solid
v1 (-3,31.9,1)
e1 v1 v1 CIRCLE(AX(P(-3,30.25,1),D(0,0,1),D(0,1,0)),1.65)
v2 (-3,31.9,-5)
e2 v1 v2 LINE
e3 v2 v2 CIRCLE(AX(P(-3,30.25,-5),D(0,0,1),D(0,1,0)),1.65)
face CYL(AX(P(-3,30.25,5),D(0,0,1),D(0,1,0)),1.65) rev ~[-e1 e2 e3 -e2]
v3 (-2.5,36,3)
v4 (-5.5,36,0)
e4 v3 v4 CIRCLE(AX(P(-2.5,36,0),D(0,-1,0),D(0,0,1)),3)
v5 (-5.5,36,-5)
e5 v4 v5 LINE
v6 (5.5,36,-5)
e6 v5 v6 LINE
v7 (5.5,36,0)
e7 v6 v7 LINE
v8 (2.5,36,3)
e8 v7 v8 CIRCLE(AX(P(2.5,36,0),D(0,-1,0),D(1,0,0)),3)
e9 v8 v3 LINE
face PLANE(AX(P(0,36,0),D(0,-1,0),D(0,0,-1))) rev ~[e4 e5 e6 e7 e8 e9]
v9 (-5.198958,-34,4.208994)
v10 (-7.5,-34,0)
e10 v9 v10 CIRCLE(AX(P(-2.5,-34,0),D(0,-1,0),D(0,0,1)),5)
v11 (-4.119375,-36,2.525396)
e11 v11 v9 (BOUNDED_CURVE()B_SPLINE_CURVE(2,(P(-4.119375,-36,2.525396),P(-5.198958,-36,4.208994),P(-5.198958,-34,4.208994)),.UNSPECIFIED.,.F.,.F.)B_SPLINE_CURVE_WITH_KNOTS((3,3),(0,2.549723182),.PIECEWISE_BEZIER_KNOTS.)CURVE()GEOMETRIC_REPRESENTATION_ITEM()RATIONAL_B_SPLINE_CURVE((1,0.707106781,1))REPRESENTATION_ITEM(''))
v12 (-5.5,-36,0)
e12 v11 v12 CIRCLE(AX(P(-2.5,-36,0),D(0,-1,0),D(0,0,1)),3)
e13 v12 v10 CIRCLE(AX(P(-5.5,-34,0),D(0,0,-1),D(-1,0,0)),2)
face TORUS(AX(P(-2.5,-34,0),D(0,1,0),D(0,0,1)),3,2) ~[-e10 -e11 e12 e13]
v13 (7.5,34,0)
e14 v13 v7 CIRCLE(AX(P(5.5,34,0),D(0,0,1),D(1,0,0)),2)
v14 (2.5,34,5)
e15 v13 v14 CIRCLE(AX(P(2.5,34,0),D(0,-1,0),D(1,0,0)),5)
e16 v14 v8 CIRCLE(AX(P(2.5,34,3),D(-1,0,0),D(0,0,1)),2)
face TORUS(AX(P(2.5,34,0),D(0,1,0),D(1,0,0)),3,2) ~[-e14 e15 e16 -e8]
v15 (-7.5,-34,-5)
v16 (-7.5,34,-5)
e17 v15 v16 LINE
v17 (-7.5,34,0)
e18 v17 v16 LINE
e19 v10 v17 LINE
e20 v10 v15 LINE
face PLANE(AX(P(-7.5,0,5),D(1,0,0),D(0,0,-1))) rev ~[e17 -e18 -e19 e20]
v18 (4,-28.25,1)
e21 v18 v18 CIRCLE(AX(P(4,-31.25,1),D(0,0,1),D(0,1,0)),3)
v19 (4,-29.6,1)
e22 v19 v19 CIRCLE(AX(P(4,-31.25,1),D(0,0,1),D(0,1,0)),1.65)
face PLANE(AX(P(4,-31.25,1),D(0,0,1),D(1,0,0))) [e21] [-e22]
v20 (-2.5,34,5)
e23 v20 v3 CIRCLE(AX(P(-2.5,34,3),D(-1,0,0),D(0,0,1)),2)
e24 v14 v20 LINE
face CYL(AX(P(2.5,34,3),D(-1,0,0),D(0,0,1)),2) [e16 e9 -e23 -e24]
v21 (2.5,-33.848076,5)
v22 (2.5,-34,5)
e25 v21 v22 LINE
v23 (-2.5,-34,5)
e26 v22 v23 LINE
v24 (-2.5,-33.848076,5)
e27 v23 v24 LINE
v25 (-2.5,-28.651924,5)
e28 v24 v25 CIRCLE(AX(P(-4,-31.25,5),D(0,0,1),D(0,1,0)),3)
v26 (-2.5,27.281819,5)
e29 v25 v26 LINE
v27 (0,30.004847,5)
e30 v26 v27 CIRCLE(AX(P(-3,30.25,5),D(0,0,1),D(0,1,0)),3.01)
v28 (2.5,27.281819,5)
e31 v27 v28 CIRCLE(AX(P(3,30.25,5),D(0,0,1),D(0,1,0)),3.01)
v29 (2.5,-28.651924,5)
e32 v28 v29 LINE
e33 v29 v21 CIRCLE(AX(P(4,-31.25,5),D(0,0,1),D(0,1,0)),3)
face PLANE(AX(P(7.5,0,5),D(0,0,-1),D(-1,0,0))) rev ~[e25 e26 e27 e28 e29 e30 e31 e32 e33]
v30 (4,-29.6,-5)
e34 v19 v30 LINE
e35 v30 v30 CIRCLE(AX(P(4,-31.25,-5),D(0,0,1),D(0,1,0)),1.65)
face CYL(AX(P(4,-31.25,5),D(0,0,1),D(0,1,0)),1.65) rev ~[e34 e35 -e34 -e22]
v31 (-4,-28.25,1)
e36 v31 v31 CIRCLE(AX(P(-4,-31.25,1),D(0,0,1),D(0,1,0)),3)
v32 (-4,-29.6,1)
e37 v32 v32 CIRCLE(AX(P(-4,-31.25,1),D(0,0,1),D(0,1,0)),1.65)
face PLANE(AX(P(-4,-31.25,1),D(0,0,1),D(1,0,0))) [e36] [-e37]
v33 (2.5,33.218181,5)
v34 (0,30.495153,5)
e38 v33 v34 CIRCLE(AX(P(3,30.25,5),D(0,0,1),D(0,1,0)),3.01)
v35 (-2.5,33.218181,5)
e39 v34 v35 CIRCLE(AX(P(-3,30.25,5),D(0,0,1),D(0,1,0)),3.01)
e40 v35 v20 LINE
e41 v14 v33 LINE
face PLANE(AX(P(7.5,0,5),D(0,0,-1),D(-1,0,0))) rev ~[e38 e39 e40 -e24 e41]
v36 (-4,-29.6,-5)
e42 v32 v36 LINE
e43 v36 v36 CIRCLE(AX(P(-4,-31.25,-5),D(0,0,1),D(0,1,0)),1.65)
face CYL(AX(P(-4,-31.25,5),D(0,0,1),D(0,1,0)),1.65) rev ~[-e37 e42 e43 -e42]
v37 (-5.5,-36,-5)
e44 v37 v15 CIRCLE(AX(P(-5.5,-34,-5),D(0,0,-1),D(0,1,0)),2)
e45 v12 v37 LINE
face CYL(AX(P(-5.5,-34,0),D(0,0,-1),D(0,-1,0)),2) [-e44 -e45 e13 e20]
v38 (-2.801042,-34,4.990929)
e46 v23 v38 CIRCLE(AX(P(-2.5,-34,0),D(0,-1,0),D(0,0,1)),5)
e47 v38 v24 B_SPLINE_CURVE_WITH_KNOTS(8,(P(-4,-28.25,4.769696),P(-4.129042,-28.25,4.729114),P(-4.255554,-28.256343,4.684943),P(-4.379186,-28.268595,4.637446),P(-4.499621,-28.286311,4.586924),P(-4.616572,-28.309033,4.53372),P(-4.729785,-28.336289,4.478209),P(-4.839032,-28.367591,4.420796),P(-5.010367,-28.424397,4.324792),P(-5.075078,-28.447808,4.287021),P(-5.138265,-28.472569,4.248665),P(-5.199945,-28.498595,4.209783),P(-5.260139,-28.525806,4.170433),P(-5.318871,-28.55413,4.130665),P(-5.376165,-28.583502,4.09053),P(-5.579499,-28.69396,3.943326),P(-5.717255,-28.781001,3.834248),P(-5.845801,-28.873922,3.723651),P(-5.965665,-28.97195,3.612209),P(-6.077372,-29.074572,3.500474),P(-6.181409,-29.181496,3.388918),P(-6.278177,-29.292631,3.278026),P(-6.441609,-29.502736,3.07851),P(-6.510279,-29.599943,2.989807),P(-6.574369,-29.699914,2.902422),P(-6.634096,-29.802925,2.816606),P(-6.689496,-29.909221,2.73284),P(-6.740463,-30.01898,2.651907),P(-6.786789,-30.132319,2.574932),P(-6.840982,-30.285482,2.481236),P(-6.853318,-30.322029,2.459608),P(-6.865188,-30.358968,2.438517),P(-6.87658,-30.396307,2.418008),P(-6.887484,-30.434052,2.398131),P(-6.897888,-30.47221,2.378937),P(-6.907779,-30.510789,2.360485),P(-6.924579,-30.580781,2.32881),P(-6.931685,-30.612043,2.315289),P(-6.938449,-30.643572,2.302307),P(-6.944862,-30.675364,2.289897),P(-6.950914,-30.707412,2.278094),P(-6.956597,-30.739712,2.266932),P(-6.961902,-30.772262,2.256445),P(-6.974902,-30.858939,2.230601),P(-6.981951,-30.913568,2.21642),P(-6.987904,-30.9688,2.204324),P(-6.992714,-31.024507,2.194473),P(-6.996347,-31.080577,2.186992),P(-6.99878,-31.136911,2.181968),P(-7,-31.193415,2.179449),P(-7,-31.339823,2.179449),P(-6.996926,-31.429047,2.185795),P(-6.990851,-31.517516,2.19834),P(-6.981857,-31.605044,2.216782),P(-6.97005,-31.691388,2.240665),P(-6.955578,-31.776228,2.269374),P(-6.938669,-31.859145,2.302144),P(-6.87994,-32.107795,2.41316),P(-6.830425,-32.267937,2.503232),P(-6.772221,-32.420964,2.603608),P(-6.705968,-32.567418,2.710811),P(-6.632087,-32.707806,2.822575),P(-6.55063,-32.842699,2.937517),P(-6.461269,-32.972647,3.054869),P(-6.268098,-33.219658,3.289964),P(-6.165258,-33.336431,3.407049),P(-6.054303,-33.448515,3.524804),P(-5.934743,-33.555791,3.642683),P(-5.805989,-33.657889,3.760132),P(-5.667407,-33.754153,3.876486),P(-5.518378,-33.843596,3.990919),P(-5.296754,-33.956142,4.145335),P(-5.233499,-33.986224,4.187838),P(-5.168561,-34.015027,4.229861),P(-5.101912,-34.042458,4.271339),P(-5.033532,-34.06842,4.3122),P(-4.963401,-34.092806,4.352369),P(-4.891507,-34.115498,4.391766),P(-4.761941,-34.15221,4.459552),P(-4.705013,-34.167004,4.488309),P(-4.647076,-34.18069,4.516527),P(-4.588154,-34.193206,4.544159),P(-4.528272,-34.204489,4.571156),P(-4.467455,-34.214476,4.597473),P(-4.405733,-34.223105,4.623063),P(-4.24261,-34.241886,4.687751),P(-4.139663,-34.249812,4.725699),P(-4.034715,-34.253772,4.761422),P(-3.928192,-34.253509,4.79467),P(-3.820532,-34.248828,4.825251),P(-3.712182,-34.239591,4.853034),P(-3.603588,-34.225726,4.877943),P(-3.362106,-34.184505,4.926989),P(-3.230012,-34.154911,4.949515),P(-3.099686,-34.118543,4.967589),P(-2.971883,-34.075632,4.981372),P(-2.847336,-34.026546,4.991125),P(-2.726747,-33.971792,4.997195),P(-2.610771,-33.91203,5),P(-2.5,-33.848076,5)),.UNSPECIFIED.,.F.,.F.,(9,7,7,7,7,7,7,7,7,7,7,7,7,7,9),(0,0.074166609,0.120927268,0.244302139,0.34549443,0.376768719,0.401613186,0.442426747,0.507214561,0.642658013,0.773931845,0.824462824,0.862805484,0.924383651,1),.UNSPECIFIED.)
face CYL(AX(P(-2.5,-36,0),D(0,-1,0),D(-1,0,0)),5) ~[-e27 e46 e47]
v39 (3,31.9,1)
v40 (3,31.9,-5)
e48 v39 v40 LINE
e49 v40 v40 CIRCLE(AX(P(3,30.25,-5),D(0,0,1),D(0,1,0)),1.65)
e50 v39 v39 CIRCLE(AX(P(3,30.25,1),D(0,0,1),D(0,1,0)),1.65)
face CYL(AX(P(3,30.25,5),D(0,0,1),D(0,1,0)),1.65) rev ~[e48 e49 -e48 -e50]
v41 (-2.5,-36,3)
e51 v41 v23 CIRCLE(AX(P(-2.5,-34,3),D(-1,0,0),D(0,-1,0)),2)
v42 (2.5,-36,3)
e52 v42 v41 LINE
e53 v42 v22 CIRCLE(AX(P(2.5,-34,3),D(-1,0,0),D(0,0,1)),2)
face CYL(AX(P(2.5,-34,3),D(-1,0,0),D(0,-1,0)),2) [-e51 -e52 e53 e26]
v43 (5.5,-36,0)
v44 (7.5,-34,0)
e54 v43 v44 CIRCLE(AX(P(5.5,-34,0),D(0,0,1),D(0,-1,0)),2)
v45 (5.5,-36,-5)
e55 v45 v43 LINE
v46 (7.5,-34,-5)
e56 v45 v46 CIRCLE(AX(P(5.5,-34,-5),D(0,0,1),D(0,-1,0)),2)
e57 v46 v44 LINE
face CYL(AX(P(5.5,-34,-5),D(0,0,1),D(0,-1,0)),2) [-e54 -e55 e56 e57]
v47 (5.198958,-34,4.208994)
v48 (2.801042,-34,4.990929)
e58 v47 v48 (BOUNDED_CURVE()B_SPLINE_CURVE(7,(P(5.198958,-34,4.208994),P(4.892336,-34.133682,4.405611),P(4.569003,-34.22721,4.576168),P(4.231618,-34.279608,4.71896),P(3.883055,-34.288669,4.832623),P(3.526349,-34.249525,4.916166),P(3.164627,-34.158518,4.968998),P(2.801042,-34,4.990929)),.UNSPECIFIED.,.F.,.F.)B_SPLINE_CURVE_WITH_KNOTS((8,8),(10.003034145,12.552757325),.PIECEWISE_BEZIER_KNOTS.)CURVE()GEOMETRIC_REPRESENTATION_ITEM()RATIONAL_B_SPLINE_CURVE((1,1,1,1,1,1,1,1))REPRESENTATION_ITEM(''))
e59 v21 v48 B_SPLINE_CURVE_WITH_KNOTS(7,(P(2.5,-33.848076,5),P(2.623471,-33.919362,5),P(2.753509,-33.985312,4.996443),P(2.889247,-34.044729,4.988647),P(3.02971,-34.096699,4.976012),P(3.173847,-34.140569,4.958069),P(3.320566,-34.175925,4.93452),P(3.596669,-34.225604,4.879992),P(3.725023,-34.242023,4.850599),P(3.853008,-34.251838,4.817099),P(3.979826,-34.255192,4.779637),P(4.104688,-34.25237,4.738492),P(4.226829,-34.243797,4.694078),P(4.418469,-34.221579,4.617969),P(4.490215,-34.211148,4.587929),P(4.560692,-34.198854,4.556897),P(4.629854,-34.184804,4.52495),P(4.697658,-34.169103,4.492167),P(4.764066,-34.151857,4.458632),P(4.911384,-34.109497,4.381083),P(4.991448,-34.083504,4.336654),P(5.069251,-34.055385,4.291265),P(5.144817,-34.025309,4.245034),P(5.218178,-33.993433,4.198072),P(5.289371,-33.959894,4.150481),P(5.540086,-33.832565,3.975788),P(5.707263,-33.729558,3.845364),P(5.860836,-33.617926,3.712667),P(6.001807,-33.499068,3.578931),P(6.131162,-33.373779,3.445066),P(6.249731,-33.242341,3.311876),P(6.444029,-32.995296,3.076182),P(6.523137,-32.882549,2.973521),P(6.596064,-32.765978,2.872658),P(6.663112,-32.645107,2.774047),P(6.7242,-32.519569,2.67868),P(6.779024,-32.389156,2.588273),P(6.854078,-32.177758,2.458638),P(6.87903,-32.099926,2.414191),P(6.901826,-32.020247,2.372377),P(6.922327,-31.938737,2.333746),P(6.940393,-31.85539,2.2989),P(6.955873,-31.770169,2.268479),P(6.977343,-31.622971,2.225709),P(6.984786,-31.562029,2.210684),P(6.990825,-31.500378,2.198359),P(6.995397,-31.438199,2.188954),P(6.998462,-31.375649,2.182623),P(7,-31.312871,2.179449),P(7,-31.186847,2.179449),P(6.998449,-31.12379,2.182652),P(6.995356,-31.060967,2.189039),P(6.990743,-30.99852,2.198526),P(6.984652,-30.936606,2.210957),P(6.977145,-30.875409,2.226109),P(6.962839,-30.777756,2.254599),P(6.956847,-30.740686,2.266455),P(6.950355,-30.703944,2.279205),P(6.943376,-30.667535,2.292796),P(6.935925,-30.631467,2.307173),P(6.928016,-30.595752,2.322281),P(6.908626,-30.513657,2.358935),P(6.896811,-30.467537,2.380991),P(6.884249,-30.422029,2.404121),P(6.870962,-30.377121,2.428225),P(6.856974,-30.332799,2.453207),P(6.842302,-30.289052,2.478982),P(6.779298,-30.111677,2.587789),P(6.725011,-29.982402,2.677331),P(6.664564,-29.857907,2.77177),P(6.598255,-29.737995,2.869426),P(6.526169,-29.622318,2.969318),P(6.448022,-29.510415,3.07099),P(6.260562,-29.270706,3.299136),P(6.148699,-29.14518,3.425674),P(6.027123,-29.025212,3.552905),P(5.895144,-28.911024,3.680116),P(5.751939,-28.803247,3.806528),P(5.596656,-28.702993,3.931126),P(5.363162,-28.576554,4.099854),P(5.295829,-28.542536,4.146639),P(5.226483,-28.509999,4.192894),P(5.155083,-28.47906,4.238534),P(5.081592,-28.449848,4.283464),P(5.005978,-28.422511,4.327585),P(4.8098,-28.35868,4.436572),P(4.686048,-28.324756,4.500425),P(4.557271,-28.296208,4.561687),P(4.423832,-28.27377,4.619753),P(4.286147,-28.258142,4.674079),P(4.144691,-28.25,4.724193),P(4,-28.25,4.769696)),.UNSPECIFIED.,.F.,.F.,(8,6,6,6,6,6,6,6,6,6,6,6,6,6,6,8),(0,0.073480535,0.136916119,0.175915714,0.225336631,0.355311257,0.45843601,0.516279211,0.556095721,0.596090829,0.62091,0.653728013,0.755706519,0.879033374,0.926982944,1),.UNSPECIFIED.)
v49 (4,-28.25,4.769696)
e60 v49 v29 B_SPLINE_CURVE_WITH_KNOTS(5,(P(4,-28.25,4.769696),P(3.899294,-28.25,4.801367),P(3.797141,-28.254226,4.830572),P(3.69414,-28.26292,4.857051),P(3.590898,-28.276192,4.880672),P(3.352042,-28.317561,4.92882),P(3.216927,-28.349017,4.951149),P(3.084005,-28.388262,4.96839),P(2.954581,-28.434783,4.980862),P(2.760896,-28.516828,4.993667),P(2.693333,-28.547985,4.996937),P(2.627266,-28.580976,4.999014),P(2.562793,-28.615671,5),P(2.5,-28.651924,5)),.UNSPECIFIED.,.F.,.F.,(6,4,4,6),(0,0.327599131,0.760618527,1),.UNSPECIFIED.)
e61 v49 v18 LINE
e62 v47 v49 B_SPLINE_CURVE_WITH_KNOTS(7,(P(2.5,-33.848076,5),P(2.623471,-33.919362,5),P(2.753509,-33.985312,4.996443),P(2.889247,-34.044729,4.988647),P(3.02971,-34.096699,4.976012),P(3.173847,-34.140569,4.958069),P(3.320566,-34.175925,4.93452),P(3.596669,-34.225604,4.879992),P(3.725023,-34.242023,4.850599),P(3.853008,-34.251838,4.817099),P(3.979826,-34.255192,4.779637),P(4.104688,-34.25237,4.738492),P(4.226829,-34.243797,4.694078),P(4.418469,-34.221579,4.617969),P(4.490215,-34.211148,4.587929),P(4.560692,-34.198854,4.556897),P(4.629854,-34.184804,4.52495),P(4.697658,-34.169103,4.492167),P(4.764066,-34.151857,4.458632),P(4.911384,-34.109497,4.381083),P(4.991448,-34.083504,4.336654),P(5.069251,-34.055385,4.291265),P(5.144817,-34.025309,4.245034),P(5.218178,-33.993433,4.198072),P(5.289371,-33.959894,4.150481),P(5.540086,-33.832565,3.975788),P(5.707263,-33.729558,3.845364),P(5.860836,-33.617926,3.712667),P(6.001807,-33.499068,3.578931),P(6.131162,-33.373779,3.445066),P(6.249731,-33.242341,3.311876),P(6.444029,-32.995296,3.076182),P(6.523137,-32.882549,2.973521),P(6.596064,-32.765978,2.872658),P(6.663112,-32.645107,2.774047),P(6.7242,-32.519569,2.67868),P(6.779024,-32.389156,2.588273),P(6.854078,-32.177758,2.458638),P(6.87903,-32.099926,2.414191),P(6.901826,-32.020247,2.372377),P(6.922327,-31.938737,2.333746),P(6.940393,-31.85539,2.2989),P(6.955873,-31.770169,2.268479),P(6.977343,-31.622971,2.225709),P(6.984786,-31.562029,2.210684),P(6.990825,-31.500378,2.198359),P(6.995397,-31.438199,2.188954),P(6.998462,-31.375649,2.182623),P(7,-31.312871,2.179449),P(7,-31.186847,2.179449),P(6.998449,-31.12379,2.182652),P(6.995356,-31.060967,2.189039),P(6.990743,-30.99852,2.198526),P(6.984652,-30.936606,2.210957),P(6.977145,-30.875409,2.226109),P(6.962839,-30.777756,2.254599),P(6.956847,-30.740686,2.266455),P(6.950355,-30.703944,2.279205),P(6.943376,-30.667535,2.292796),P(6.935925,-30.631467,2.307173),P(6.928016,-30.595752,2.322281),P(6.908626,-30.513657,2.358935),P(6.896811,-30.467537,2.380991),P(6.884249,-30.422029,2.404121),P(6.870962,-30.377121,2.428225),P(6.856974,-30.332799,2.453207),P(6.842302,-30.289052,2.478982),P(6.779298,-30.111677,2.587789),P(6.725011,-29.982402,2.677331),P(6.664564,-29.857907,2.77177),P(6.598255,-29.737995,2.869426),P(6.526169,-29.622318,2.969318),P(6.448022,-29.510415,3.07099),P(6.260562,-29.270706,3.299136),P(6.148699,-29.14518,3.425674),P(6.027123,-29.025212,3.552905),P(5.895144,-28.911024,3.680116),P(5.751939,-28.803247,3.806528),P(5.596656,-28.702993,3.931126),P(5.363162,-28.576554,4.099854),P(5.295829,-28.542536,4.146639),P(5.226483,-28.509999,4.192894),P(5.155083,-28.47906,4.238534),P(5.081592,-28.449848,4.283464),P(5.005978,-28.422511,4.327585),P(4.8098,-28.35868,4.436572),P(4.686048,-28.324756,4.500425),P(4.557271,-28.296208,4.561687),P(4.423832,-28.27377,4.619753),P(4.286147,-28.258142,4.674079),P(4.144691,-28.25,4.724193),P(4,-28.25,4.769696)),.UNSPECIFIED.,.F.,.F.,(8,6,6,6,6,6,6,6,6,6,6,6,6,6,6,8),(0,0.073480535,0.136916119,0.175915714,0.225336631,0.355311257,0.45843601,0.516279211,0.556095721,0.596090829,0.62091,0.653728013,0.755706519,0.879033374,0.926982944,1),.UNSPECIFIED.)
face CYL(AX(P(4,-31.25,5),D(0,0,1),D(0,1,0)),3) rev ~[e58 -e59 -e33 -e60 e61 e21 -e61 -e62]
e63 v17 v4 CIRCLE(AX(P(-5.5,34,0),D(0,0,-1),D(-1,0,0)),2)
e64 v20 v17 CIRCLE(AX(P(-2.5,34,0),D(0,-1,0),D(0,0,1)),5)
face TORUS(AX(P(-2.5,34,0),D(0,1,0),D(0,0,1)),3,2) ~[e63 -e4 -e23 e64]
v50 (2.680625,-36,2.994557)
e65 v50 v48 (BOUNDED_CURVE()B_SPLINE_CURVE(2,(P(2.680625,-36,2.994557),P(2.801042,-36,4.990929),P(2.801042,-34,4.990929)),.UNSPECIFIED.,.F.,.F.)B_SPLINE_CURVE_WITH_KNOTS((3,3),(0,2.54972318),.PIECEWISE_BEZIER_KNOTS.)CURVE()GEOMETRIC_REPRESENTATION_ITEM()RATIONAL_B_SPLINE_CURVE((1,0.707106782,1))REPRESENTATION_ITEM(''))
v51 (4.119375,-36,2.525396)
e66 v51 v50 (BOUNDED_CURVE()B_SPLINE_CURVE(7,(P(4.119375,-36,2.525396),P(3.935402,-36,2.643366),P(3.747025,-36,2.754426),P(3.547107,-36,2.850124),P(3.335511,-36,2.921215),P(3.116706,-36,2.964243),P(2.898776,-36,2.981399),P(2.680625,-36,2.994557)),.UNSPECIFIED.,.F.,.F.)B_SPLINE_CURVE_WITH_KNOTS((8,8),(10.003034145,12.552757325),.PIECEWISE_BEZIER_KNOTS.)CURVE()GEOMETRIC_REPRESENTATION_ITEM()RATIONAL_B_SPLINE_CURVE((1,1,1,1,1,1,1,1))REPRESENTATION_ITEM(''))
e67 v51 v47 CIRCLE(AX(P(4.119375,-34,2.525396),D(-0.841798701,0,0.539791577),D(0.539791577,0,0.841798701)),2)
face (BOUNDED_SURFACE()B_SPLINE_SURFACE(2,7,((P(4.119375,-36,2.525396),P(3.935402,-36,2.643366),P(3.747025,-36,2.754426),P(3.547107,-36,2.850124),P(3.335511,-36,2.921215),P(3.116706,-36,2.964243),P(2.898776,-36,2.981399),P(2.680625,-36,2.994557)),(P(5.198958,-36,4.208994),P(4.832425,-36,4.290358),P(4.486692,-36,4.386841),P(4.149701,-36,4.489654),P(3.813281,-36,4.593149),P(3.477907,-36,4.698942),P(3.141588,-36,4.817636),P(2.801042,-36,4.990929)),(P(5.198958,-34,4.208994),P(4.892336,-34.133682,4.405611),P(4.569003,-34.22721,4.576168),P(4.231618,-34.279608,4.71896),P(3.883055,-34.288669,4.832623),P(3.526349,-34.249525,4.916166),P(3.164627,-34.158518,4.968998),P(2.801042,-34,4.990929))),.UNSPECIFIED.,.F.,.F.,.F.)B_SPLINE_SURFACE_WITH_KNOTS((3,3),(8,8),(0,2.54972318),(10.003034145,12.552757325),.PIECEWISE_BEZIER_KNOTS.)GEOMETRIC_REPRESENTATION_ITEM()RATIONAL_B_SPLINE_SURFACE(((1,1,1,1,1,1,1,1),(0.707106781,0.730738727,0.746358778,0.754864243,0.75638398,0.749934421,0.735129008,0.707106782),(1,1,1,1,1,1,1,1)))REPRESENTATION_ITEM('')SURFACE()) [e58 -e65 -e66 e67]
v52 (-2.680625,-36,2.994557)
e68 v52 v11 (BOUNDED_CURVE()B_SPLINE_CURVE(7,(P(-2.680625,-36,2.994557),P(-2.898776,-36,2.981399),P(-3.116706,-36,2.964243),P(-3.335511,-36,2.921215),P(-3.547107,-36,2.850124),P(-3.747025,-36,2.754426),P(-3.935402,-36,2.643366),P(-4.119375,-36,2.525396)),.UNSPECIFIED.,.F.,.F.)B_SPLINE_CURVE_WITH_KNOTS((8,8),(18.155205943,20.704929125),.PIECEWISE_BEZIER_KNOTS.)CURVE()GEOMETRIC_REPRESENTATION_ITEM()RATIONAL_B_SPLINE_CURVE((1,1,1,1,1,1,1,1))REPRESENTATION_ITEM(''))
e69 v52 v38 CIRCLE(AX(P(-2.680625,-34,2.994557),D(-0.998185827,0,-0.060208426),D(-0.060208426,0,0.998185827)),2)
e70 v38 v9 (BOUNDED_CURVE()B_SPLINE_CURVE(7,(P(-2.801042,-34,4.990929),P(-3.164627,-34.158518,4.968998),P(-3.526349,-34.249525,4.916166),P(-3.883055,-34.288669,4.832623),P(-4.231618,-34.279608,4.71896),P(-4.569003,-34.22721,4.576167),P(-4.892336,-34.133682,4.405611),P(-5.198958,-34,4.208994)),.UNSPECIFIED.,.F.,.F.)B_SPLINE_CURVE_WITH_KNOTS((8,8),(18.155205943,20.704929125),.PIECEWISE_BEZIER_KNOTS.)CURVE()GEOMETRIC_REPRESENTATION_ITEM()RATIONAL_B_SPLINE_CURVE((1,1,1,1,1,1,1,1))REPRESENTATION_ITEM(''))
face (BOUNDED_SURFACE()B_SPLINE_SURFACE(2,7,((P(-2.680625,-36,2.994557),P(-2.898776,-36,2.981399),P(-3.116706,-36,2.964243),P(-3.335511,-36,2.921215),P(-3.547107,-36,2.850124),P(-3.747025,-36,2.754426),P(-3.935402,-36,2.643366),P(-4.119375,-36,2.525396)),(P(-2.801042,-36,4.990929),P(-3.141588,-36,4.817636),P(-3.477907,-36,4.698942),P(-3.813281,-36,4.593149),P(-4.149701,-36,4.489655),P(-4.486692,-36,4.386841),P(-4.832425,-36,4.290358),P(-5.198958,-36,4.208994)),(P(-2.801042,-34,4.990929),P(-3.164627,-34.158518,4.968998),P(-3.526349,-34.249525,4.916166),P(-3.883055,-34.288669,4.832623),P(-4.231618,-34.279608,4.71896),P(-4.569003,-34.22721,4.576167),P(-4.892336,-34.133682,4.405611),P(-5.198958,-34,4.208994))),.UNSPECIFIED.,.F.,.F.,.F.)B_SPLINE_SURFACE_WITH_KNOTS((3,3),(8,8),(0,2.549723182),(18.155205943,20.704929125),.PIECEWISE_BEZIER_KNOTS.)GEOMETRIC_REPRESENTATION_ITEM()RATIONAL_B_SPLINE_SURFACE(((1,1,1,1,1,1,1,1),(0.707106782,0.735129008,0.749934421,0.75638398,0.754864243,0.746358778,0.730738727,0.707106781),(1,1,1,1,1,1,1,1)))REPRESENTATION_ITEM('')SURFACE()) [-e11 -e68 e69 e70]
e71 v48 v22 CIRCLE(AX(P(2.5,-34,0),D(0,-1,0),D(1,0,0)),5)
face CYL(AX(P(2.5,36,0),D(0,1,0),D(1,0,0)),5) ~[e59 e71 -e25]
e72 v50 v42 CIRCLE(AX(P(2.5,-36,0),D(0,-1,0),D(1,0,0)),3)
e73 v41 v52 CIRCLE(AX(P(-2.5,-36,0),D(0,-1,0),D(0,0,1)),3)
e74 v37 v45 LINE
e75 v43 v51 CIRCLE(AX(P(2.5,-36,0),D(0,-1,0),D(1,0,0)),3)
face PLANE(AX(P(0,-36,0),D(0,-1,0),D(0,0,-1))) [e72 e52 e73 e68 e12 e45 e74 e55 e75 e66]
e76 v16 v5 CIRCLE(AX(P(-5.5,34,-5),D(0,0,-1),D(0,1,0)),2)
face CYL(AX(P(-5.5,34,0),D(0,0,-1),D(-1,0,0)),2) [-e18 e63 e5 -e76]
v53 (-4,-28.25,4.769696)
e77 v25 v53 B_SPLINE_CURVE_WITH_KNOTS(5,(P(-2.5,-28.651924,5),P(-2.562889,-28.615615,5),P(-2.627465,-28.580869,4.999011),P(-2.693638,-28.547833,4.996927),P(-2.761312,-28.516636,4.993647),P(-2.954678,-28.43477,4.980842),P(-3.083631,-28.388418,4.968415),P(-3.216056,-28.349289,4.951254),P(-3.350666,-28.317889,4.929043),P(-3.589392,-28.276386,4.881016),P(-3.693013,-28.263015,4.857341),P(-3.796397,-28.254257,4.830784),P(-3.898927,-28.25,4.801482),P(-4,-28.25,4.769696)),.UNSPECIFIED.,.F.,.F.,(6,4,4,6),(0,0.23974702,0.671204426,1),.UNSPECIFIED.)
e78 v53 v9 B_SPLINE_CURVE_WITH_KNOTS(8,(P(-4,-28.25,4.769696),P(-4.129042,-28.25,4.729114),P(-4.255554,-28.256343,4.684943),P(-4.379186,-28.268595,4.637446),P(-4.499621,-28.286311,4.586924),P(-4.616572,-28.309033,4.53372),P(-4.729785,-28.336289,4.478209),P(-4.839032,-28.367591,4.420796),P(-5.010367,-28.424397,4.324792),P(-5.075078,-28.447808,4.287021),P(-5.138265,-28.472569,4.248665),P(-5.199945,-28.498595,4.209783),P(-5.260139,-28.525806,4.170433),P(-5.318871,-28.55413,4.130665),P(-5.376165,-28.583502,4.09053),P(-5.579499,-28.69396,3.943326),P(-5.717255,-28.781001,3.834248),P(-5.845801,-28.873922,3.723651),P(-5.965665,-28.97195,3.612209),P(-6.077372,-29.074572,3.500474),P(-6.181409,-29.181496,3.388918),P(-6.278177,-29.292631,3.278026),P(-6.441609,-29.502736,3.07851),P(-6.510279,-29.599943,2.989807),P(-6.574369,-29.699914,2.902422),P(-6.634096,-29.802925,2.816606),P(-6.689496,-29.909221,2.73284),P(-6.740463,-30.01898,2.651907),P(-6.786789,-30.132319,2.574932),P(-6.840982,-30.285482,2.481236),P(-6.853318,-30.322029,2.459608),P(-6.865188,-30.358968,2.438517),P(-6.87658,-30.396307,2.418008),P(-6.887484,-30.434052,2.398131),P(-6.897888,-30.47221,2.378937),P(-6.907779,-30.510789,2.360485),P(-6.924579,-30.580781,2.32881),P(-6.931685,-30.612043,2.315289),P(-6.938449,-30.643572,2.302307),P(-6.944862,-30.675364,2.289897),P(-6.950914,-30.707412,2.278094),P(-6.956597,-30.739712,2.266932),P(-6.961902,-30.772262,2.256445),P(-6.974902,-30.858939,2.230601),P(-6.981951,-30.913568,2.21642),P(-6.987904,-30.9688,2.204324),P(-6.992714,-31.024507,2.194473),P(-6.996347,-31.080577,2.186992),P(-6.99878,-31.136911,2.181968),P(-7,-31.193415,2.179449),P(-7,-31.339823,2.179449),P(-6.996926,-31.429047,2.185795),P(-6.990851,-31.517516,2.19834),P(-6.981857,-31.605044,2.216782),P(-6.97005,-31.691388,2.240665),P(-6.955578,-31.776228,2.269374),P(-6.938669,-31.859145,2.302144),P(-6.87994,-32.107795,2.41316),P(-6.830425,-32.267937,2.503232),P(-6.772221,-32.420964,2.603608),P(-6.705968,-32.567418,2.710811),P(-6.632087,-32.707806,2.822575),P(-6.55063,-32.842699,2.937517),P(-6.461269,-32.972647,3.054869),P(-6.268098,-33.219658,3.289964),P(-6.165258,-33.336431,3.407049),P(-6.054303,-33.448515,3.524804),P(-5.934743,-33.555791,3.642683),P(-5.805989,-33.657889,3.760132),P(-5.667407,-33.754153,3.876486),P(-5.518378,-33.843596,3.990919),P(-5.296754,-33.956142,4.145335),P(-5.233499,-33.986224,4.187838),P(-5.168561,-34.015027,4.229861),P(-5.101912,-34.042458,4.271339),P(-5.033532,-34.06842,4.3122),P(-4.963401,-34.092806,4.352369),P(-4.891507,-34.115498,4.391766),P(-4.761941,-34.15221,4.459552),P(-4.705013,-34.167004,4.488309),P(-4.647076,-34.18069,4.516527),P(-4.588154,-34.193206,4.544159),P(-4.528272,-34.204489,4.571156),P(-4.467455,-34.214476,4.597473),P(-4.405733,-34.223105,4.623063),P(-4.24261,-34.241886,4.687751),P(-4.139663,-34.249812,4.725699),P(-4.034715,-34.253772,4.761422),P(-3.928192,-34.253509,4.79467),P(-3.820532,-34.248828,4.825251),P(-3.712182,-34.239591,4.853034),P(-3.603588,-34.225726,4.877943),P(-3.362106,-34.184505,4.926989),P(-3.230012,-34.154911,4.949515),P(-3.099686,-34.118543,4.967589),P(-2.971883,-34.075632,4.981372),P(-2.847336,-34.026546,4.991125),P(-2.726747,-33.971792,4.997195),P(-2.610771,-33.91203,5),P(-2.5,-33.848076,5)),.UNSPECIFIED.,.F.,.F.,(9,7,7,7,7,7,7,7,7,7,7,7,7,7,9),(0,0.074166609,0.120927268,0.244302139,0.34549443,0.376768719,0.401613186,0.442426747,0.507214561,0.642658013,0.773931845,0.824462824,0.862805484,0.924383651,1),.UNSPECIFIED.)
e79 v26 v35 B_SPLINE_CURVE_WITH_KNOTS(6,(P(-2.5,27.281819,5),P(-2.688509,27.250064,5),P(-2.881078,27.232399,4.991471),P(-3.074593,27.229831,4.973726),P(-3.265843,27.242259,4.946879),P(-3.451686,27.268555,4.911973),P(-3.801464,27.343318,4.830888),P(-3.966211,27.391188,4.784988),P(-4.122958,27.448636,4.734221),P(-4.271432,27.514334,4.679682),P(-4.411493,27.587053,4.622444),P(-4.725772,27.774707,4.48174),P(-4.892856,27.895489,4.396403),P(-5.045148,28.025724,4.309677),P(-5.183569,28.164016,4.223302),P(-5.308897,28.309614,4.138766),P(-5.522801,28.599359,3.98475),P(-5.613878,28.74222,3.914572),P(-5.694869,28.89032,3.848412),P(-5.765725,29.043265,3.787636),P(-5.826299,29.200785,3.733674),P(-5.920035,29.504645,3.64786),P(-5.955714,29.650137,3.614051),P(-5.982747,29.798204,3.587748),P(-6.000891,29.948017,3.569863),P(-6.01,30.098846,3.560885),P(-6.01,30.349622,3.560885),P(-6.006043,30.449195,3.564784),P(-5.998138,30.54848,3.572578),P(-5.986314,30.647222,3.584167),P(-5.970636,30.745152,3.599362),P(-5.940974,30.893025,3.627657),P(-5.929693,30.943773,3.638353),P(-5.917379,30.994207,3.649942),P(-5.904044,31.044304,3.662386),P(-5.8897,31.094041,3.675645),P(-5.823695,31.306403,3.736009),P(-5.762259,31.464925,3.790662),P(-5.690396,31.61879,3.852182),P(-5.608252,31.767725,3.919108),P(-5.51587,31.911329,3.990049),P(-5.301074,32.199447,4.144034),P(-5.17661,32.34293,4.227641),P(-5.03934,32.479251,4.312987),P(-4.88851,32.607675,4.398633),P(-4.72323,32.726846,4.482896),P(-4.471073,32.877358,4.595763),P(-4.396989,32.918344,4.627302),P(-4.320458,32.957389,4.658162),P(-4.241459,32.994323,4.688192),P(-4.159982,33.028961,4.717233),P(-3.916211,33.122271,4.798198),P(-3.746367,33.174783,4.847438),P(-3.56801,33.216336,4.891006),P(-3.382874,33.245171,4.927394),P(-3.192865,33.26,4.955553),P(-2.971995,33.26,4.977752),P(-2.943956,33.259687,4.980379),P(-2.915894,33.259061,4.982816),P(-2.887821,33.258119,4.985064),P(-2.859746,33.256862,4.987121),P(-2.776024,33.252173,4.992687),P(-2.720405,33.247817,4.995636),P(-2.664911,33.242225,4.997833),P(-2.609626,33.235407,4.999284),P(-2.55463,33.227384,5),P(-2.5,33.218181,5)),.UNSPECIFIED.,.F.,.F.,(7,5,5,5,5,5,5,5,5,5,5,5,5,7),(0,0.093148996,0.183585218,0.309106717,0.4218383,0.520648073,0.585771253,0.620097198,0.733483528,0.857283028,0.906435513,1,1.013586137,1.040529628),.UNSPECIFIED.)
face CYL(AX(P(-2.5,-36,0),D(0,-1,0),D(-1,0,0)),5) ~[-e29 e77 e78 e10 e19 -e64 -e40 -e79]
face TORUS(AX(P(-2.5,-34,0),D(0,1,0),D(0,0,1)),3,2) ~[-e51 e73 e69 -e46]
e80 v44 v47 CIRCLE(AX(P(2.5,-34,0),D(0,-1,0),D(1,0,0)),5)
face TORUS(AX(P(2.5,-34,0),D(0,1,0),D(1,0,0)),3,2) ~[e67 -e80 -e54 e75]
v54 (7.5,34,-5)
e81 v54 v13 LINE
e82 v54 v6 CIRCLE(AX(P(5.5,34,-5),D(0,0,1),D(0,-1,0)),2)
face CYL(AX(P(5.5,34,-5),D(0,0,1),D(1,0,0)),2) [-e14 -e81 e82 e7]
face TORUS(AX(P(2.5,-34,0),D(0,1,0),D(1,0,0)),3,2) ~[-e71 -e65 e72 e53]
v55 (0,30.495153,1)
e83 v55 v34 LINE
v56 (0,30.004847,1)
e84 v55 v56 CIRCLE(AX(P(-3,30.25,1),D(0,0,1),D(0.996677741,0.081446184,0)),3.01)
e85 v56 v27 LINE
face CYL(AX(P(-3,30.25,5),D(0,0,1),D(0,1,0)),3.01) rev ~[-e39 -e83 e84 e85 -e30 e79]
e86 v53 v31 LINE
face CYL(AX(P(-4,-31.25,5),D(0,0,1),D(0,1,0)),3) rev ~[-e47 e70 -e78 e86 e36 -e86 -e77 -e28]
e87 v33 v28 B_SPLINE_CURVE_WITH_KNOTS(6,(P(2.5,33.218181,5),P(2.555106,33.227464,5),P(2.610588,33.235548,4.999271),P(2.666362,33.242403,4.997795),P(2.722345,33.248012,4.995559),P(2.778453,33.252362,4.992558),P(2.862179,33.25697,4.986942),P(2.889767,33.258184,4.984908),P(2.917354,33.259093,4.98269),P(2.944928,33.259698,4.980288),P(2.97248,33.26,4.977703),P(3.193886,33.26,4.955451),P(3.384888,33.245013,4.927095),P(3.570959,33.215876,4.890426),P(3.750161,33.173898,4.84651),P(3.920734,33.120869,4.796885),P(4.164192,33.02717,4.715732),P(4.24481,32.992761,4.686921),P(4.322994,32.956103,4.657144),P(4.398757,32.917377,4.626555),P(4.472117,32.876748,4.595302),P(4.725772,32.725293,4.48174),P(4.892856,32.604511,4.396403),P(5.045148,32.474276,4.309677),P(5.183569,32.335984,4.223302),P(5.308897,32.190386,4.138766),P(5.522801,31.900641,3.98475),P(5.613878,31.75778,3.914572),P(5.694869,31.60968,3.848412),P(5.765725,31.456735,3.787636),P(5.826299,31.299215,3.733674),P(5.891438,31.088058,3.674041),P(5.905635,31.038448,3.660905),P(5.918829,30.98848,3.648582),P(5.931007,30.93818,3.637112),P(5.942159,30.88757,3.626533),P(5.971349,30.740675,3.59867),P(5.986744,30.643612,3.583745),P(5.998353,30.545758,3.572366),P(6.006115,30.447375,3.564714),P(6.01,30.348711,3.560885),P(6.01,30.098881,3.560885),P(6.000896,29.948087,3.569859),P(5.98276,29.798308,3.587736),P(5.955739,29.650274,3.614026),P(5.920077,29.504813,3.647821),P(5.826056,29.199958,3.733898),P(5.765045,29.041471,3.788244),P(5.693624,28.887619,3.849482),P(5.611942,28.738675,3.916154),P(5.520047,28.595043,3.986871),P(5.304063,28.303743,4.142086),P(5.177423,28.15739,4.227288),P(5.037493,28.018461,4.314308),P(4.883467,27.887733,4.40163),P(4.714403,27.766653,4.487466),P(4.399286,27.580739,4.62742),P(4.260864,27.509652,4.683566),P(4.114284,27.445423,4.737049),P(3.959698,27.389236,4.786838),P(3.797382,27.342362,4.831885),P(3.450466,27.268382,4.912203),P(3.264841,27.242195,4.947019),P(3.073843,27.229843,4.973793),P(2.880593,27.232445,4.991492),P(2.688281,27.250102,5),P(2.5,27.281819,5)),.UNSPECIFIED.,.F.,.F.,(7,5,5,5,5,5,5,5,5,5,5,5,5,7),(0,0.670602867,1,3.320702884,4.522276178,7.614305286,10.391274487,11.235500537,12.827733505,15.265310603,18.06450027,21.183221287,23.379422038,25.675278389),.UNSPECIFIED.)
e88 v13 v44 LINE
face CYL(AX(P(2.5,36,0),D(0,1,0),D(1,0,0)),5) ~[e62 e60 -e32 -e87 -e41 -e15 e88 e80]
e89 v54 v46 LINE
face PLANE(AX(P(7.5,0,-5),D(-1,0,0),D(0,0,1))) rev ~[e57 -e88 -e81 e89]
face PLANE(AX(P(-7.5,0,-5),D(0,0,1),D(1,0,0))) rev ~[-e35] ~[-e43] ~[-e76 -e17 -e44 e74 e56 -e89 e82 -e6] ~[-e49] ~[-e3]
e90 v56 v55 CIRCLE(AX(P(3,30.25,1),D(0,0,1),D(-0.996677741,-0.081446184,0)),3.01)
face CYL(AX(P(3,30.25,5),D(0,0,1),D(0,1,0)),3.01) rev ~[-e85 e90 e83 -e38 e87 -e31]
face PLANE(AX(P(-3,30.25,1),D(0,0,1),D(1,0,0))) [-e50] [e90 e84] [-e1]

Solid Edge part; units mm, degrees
sketch "Sketch1" plane through (0, 0, 0) normal (0, -1, 0) x (1, 0, 0)
  line L0 (-7.5, -5) -> (7.5, -5)
  line L1 (7.5, -5) -> (7.5, 5)
  line L2 (7.5, 5) -> (-7.5, 5)
  line L3 (-7.5, 5) -> (-7.5, -5)
  dimension "D1" = 15
  dimension "D2" = 10
extrude "Protrusion1" add sketch "Sketch1" along normal mid plane 72
sketch "Sketch2" plane through (0, 0, 5) normal (0, 0, 1) x (0, 1, 0)
  circle A0 centre (30.25, -3) radius 1.65
  circle A1 centre (-31.25, -4) radius 1.65
  circle A2 centre (-31.25, 4) radius 1.65
  circle A3 centre (30.25, 3) radius 1.65
  dimension "D1" = 44.5
  dimension "D2" = 9
  dimension "D3" = 3
  dimension "D4" = 8
  dimension "D5" = 8
  dimension "D6" = 4
  dimension "D7" = 4
  dimension "D8" = 3
extrude "Cutout1" cut sketch "Sketch2" against normal through all
fillet "Redondeo_1" radius 5 2 edges at (7.5, 0, 5) (-7.5, 0, 5)
sketch "Sketch3" plane through (0, 0, 5) normal (0, 0, 1) x (0, 1, 0)
  circle A0 centre (-31.25, 4) radius 3
  circle A1 centre (30.25, 3) radius 3.01
  circle A2 centre (-31.25, -4) radius 3
  circle A3 centre (30.25, -3) radius 3.01
extrude "VaciadoExtruido_3" cut sketch "Sketch3" against normal blind 4
fillet "Redondeo_2" radius 2 10 edges at (-7.5, 36, -2.5) (-6.0355, 36, 3.5355) (0, 36, 5) (6.0355, 36, 3.5355) (7.5, 36, -2.5) (0, -36, 5) (-6.0355, -36, 3.5355) (-7.5, -36, -2.5) (6.0355, -36, 3.5355) (7.5, -36, -2.5)
